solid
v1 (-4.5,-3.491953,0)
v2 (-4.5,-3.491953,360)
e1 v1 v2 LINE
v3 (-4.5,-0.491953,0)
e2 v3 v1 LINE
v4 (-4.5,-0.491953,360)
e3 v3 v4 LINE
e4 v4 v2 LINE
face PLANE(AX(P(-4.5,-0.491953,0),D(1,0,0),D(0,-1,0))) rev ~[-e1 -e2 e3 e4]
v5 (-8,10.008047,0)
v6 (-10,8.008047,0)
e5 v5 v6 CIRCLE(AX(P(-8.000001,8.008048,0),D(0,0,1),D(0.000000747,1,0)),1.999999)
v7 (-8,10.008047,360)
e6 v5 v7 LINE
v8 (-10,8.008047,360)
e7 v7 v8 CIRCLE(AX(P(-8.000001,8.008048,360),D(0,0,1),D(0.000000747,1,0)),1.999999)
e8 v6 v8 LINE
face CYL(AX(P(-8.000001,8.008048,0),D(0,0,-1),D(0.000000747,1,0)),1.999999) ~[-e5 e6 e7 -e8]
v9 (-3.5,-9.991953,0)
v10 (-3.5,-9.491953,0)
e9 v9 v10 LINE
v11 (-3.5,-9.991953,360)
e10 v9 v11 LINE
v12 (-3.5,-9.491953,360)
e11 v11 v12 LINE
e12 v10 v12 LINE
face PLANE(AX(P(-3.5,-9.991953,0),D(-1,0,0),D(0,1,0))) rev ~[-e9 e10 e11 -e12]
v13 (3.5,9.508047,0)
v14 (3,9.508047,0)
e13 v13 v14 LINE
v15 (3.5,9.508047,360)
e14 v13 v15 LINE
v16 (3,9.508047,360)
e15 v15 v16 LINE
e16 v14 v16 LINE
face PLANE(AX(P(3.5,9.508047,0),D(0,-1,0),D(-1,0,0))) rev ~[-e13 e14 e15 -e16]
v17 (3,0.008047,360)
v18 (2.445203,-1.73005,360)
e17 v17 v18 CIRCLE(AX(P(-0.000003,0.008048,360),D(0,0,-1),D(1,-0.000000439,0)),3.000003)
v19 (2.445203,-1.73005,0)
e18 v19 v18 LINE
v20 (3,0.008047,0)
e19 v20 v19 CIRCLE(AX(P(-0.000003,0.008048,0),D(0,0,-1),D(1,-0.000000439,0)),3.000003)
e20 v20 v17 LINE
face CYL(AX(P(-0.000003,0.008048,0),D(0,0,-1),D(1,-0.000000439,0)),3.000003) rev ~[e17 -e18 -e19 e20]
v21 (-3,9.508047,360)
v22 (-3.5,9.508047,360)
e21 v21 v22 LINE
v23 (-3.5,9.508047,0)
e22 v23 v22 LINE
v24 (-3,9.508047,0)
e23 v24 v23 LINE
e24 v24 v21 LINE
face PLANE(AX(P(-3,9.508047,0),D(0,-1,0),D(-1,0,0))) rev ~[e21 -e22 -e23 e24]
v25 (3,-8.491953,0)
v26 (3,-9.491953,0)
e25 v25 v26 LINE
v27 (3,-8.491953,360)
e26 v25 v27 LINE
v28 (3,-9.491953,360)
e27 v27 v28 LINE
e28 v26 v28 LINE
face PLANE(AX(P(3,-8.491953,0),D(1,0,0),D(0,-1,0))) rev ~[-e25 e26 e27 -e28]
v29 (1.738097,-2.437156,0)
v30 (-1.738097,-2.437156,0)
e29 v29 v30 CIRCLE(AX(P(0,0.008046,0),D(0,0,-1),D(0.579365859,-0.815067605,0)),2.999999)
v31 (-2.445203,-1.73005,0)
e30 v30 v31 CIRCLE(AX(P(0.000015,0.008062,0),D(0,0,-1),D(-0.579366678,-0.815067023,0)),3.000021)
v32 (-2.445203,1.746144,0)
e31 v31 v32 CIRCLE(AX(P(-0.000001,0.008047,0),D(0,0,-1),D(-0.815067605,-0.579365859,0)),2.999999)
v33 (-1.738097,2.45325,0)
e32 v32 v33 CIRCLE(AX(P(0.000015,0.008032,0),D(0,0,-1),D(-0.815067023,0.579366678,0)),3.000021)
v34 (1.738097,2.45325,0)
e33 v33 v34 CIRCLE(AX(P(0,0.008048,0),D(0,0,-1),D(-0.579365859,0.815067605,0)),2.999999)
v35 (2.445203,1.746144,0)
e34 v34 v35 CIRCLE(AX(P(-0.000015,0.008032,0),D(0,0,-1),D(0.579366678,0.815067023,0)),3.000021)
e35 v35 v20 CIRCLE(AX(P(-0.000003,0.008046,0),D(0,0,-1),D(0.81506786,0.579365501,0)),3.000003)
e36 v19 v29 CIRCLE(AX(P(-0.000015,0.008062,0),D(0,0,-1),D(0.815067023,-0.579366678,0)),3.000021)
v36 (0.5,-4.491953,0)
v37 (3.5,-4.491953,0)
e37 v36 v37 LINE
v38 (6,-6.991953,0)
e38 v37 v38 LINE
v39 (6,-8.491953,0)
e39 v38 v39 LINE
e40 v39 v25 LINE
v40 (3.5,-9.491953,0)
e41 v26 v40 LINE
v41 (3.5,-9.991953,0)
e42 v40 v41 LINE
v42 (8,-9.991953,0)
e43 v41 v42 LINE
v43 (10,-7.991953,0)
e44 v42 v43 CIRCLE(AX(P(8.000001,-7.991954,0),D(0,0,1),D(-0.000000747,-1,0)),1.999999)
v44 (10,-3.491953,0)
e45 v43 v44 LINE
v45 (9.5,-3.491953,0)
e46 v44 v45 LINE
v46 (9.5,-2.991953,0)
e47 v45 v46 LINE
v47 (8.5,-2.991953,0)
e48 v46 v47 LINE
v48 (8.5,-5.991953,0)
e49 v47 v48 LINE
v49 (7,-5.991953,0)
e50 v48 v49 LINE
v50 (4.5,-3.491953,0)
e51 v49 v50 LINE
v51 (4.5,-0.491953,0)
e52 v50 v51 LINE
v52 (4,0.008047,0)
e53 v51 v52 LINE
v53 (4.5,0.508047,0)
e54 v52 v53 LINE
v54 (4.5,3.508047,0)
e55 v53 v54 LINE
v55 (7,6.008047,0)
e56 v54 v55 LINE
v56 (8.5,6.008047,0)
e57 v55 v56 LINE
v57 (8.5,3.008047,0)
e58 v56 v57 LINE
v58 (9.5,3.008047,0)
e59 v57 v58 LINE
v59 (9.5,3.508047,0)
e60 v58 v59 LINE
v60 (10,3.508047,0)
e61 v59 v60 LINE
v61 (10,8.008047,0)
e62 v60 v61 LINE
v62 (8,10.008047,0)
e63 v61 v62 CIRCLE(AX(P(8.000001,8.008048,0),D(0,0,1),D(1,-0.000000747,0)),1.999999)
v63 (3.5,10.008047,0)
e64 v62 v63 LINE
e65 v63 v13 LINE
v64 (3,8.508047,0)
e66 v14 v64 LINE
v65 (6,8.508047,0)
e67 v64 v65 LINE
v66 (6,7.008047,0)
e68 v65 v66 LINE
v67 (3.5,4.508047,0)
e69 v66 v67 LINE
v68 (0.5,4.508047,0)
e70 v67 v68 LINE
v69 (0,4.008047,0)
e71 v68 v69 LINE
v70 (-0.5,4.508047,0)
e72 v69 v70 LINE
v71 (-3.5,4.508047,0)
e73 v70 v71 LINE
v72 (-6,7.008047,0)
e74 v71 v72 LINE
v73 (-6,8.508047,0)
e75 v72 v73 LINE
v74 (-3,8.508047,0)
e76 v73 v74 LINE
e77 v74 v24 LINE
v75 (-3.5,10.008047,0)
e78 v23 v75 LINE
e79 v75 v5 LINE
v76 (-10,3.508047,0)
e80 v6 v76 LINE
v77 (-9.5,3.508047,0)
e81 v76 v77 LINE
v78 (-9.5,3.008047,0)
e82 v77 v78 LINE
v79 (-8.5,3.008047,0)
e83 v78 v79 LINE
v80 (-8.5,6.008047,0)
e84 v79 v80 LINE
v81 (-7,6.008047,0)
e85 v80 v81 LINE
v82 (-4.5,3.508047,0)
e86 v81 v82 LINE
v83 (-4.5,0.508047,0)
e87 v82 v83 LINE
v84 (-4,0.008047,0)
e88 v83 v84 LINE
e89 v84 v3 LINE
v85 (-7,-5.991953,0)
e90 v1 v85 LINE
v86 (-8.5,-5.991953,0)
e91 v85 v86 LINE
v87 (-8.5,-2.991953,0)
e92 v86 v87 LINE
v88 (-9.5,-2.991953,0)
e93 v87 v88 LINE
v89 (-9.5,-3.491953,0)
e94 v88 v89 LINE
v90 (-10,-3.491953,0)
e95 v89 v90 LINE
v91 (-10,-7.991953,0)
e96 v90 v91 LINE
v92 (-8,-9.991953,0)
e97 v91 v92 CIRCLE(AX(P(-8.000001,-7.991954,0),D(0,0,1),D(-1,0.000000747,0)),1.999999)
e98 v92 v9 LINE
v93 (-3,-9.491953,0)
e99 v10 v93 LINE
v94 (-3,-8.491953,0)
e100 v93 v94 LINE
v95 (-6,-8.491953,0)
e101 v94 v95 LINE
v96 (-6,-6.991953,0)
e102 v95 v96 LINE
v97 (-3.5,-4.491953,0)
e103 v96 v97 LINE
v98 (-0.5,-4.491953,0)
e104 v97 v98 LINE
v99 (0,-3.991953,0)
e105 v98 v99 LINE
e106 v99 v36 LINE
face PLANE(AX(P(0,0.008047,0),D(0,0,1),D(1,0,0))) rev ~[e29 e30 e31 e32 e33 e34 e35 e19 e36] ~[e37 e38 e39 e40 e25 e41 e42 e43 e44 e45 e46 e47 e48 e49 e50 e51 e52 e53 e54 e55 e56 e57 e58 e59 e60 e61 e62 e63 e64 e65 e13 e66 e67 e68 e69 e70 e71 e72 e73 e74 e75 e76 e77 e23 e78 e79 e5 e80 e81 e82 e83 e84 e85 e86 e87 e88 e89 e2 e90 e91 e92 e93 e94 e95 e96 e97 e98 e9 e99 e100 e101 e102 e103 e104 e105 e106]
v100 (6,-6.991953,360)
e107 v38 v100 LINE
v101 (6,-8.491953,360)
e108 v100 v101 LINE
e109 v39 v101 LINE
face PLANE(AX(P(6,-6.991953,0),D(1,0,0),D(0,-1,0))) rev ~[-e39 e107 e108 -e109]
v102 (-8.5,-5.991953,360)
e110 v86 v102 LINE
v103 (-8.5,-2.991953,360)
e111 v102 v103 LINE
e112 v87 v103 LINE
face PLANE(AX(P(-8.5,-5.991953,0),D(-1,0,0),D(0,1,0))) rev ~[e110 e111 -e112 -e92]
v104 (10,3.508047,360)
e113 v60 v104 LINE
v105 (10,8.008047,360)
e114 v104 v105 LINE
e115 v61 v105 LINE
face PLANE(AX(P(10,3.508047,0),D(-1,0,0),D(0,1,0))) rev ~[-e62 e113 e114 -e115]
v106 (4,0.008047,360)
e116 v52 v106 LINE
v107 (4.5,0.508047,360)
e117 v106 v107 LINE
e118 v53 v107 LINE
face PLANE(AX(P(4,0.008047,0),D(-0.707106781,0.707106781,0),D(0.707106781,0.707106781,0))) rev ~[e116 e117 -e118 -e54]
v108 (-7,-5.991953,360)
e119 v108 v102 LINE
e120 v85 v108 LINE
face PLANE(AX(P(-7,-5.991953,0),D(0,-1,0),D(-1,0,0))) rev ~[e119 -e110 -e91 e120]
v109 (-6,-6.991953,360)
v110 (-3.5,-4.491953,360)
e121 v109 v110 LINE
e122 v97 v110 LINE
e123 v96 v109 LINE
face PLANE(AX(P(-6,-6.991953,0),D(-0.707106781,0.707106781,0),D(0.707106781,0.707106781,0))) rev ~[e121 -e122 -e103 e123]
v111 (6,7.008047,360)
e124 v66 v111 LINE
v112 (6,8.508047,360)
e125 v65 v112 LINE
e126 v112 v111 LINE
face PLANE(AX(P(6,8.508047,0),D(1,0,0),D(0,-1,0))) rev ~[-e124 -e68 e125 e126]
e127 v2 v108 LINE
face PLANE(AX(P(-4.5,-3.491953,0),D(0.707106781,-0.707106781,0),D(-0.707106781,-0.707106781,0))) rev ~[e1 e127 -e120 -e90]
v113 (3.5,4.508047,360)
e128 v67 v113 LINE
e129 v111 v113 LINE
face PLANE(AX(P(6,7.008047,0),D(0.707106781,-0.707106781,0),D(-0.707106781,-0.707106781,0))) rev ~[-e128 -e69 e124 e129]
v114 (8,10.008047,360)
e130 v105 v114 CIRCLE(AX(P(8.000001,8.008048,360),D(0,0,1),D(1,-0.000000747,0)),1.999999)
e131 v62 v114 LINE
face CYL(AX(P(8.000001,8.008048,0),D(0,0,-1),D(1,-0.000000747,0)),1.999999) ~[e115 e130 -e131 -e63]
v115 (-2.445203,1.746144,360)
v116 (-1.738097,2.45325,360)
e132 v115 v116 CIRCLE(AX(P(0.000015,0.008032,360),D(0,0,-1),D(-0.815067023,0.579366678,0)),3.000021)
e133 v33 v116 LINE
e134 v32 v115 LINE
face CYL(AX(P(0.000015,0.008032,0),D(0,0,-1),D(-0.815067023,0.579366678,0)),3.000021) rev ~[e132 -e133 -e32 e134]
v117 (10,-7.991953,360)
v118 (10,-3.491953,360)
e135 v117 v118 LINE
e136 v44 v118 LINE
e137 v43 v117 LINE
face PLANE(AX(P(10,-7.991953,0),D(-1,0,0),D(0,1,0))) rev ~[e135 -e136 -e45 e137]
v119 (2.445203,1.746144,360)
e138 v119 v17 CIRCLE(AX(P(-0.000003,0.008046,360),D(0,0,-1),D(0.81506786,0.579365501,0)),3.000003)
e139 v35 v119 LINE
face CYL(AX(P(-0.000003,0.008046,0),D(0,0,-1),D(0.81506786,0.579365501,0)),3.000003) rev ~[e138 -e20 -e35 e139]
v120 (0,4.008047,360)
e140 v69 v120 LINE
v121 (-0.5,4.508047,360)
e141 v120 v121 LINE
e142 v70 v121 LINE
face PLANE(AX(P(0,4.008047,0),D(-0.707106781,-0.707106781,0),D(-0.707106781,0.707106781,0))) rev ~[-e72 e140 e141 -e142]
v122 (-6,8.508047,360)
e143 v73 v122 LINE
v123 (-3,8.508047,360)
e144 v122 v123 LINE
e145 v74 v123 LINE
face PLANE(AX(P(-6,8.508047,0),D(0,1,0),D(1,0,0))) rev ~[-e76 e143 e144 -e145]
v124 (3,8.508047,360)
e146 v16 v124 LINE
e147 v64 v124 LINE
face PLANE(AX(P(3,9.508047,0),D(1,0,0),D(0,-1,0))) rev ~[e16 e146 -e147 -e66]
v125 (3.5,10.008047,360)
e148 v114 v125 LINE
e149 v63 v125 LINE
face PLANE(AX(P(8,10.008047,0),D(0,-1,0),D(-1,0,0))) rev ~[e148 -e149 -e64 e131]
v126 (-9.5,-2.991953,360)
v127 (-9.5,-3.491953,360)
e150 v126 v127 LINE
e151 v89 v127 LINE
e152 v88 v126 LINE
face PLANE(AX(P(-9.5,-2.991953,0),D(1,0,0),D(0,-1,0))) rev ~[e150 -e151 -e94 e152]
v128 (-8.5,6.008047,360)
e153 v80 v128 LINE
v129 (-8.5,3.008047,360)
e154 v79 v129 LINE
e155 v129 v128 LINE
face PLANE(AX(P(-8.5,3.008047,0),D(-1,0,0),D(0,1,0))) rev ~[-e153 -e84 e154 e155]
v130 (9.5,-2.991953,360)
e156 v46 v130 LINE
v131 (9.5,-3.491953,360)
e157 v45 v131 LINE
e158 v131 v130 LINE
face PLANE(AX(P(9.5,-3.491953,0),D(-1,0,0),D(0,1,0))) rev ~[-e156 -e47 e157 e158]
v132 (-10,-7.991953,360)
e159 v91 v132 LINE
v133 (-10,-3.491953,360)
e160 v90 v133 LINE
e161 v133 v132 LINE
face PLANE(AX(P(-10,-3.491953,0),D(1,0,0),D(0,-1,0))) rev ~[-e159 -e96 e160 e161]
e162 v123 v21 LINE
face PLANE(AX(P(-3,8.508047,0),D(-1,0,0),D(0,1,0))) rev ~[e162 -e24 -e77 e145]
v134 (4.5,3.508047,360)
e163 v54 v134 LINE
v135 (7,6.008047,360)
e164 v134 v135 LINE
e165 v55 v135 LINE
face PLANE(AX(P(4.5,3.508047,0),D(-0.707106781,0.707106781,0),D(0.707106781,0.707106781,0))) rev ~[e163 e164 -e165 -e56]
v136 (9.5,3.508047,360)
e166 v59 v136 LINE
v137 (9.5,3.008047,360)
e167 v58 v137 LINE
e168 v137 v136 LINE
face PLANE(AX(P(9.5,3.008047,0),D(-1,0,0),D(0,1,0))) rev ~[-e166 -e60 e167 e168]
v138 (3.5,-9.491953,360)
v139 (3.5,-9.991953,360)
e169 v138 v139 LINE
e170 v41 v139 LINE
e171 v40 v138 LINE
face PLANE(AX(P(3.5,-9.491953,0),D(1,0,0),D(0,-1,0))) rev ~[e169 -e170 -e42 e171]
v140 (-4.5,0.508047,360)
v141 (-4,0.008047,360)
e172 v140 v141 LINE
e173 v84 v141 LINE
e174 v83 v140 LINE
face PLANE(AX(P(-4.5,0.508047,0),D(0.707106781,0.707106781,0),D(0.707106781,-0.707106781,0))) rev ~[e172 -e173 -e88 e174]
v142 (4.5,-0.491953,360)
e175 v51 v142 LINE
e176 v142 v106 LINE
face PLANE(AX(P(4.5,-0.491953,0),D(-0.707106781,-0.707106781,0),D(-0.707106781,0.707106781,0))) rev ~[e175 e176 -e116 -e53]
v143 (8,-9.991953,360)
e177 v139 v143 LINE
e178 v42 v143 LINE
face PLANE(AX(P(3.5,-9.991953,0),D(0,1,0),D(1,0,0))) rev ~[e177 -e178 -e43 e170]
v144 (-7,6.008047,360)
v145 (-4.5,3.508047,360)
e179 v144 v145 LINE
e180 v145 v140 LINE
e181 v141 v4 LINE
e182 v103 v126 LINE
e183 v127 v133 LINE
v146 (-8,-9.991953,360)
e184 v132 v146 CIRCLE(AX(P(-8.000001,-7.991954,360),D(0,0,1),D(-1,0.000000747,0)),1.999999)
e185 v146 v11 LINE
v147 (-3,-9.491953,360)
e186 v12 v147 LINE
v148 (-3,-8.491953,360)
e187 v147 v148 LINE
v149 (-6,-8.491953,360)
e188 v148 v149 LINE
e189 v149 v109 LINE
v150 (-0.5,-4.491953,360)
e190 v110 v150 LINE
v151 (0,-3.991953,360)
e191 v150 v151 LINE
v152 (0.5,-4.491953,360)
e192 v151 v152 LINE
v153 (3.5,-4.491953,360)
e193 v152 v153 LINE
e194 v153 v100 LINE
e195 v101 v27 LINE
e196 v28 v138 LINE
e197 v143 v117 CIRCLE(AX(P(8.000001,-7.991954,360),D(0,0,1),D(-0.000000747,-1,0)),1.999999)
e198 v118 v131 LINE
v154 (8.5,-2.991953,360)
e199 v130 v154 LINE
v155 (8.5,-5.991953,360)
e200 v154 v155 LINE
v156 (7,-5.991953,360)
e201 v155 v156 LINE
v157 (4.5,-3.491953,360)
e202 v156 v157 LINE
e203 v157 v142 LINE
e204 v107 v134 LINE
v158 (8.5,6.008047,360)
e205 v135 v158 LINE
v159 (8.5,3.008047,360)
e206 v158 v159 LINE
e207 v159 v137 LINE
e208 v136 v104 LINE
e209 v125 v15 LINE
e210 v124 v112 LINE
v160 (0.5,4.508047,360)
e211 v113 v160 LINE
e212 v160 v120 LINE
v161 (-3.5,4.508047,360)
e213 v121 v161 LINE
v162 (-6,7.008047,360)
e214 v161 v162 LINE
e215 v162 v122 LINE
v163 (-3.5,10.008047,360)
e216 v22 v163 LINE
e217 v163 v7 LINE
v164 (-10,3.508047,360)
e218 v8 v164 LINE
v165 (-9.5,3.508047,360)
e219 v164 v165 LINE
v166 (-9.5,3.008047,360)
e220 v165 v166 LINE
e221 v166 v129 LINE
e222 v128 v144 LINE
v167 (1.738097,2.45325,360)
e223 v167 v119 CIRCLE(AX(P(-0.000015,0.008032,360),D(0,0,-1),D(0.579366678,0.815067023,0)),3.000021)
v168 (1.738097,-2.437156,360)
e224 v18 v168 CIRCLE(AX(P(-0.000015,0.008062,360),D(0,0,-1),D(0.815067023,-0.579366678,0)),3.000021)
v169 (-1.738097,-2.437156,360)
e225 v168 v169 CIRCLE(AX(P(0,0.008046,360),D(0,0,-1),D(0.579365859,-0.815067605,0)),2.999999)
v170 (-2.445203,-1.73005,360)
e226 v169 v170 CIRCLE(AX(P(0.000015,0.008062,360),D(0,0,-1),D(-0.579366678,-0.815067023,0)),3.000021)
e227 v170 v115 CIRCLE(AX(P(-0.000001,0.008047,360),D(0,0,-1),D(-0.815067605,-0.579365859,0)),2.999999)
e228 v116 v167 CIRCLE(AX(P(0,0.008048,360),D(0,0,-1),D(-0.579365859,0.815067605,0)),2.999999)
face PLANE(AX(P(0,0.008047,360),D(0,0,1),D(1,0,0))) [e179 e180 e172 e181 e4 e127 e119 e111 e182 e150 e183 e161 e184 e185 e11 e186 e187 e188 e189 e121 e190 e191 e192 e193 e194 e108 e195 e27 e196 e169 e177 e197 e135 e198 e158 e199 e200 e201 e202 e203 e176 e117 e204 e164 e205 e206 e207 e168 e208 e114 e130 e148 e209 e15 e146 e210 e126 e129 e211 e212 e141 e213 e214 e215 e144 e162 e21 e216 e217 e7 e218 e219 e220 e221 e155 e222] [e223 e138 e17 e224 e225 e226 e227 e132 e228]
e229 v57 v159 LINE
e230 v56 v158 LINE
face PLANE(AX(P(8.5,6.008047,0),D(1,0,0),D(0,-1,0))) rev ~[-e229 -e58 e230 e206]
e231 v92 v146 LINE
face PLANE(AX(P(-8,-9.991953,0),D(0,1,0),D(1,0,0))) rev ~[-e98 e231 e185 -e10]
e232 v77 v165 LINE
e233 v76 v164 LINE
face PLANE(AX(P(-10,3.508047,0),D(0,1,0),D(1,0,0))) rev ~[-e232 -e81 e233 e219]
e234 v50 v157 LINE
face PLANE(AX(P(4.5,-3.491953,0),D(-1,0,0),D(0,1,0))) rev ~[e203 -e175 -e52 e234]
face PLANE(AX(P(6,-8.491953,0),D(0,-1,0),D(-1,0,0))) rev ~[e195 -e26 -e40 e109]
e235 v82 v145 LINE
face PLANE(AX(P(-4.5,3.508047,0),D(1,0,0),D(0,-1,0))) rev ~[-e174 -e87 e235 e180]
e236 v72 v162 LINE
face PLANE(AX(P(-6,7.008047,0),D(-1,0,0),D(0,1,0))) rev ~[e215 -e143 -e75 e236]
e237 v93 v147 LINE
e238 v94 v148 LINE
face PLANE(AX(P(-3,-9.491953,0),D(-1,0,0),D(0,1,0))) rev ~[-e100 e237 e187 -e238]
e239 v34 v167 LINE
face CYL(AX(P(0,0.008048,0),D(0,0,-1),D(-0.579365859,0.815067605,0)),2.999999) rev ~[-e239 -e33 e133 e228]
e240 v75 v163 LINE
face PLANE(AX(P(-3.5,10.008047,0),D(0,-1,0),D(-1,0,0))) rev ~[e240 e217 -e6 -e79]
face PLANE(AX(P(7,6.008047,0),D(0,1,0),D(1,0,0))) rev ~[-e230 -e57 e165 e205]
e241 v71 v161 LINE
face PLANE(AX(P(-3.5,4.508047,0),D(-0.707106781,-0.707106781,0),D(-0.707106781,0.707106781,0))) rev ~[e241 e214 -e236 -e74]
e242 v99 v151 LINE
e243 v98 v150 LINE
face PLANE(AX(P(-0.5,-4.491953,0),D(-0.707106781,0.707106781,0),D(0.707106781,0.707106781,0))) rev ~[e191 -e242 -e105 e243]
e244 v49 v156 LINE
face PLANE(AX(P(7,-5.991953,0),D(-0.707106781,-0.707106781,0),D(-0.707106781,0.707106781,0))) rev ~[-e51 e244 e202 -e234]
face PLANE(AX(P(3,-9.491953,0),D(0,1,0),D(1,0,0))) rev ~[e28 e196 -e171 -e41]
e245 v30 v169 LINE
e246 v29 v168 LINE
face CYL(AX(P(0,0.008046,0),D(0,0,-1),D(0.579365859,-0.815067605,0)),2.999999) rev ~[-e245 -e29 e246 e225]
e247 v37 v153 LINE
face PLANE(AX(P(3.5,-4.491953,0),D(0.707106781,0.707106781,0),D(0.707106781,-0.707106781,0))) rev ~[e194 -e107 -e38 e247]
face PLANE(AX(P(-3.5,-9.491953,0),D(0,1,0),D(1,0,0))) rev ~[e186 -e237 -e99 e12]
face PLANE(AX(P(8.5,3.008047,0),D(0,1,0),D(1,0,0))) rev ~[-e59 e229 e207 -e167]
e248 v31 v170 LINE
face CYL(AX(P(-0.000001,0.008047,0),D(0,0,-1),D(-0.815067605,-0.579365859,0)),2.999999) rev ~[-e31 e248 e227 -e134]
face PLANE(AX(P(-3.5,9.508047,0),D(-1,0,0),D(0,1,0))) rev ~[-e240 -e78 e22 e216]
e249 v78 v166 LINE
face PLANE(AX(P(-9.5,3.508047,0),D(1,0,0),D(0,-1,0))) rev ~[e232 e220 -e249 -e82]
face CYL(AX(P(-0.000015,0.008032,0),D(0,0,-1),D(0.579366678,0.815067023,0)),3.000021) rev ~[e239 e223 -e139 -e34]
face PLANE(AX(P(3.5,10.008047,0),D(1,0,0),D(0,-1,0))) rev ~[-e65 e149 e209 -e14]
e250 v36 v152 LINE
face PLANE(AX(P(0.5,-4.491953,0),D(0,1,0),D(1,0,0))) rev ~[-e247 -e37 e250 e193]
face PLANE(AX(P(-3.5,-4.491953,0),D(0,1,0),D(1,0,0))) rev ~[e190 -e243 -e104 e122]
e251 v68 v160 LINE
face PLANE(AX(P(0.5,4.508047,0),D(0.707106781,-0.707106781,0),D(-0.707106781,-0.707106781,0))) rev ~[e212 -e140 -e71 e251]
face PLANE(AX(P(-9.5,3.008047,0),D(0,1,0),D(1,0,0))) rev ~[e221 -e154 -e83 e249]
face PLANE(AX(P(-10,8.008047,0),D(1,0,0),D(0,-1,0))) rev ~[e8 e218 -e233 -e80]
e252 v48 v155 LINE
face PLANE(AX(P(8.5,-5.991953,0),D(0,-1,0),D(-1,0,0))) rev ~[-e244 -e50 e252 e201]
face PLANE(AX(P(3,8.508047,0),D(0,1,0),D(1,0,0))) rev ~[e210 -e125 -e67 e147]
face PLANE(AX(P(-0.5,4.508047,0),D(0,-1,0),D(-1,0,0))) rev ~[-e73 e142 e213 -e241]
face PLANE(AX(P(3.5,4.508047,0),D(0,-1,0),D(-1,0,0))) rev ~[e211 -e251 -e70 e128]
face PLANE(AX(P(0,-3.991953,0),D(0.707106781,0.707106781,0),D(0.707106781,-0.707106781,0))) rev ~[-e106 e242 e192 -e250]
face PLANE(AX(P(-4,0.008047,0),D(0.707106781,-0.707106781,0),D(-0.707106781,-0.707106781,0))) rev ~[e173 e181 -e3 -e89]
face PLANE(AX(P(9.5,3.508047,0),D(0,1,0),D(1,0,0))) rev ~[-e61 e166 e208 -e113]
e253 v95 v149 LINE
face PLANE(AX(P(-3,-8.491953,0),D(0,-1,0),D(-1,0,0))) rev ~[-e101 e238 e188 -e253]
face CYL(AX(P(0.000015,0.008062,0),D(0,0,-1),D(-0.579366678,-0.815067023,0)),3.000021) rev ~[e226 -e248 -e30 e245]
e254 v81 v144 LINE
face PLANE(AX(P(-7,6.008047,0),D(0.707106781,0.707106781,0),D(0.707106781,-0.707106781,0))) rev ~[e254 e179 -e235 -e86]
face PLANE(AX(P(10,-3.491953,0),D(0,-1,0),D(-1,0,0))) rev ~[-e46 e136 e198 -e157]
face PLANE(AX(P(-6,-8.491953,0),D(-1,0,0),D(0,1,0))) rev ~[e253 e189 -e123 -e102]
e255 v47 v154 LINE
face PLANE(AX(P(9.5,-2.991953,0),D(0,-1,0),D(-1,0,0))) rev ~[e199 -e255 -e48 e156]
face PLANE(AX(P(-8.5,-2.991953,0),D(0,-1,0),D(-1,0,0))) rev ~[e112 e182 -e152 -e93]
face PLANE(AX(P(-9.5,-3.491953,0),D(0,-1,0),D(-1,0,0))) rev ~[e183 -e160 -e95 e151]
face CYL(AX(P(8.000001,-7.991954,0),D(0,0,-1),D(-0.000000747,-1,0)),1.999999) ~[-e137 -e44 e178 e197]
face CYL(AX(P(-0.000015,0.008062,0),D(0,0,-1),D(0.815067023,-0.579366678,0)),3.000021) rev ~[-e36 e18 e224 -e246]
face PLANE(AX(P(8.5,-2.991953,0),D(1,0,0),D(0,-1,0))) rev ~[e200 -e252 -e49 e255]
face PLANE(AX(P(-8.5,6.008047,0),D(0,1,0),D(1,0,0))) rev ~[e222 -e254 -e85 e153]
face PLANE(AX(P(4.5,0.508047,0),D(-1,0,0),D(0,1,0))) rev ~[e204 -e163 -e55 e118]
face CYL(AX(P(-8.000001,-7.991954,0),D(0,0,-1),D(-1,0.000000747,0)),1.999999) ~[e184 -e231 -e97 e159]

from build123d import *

# Parameters (mm, degrees)
F1_DEPTH = 360


with BuildPart() as f1:
    # F0 (on Top) → F1 (new body)
    with BuildSketch(Plane.XY):
        with BuildLine():
            ThreePointArc((-10, -7.991953), (-9.414214, -9.406167), (-8, -9.991953))
            Line((-8, -9.991953), (-3.5, -9.991953))
            Line((-3.5, -9.991953), (-3.5, -9.491953))
            Line((-3.5, -9.491953), (-3, -9.491953))
            Line((-3, -9.491953), (-3, -8.491953))
            Line((-3, -8.491953), (-6, -8.491953))
            Line((-6, -8.491953), (-6, -6.991953))
            Line((-6, -6.991953), (-3.5, -4.491953))
            Line((-3.5, -4.491953), (-0.5, -4.491953))
            Line((-0.5, -4.491953), (0, -3.991953))
            Line((0, -3.991953), (0.5, -4.491953))
            Line((0.5, -4.491953), (3.5, -4.491953))
            Line((3.5, -4.491953), (6, -6.991953))
            Line((6, -6.991953), (6, -8.491953))
            Line((6, -8.491953), (3, -8.491953))
            Line((3, -8.491953), (3, -9.491953))
            Line((3, -9.491953), (3.5, -9.491953))
            Line((3.5, -9.491953), (3.5, -9.991953))
            Line((3.5, -9.991953), (8, -9.991953))
            ThreePointArc((8, -9.991953), (9.414214, -9.406167), (10, -7.991953))
            Line((10, -7.991953), (10, -3.491953))
            Line((10, -3.491953), (9.5, -3.491953))
            Line((9.5, -3.491953), (9.5, -2.991953))
            Line((9.5, -2.991953), (8.5, -2.991953))
            Line((8.5, -2.991953), (8.5, -5.991953))
            Line((8.5, -5.991953), (7, -5.991953))
            Line((7, -5.991953), (4.5, -3.491953))
            Line((4.5, -3.491953), (4.5, -0.491953))
            Line((4.5, -0.491953), (4, 0.008047))
            Line((4, 0.008047), (4.5, 0.508047))
            Line((4.5, 0.508047), (4.5, 3.508047))
            Line((4.5, 3.508047), (7, 6.008047))
            Line((7, 6.008047), (8.5, 6.008047))
            Line((8.5, 6.008047), (8.5, 3.008047))
            Line((8.5, 3.008047), (9.5, 3.008047))
            Line((9.5, 3.008047), (9.5, 3.508047))
            Line((9.5, 3.508047), (10, 3.508047))
            Line((10, 3.508047), (10, 8.008047))
            ThreePointArc((10, 8.008047), (9.414214, 9.422261), (8, 10.008047))
            Line((8, 10.008047), (3.5, 10.008047))
            Line((3.5, 10.008047), (3.5, 9.508047))
            Line((3.5, 9.508047), (3, 9.508047))
            Line((3, 9.508047), (3, 8.508047))
            Line((3, 8.508047), (6, 8.508047))
            Line((6, 8.508047), (6, 7.008047))
            Line((6, 7.008047), (3.5, 4.508047))
            Line((3.5, 4.508047), (0.5, 4.508047))
            Line((0.5, 4.508047), (0, 4.008047))
            Line((0, 4.008047), (-0.5, 4.508047))
            Line((-0.5, 4.508047), (-3.5, 4.508047))
            Line((-3.5, 4.508047), (-6, 7.008047))
            Line((-6, 7.008047), (-6, 8.508047))
            Line((-6, 8.508047), (-3, 8.508047))
            Line((-3, 8.508047), (-3, 9.508047))
            Line((-3, 9.508047), (-3.5, 9.508047))
            Line((-3.5, 9.508047), (-3.5, 10.008047))
            Line((-3.5, 10.008047), (-8, 10.008047))
            ThreePointArc((-8, 10.008047), (-9.414214, 9.422261), (-10, 8.008047))
            Line((-10, 8.008047), (-10, 3.508047))
            Line((-10, 3.508047), (-9.5, 3.508047))
            Line((-9.5, 3.508047), (-9.5, 3.008047))
            Line((-9.5, 3.008047), (-8.5, 3.008047))
            Line((-8.5, 3.008047), (-8.5, 6.008047))
            Line((-8.5, 6.008047), (-7, 6.008047))
            Line((-7, 6.008047), (-4.5, 3.508047))
            Line((-4.5, 3.508047), (-4.5, 0.508047))
            Line((-4.5, 0.508047), (-4, 0.008047))
            Line((-4, 0.008047), (-4.5, -0.491953))
            Line((-4.5, -0.491953), (-4.5, -3.491953))
            Line((-4.5, -3.491953), (-7, -5.991953))
            Line((-7, -5.991953), (-8.5, -5.991953))
            Line((-8.5, -5.991953), (-8.5, -2.991953))
            Line((-8.5, -2.991953), (-9.5, -2.991953))
            Line((-9.5, -2.991953), (-9.5, -3.491953))
            Line((-9.5, -3.491953), (-10, -3.491953))
            Line((-10, -3.491953), (-10, -7.991953))
        make_face()
        with BuildLine():
            ThreePointArc((2.445203, 1.746144), (2.857937, 0.920294), (3, 0.008047))
            ThreePointArc((3, 0.008047), (2.857937, -0.9042), (2.445203, -1.73005))
            ThreePointArc((2.445203, -1.73005), (2.12132, -2.113273), (1.738097, -2.437156))
            ThreePointArc((1.738097, -2.437156), (0, -2.991953), (-1.738097, -2.437156))
            ThreePointArc((-1.738097, -2.437156), (-2.12132, -2.113273), (-2.445203, -1.73005))
            ThreePointArc((-2.445203, -1.73005), (-3, 0.008047), (-2.445203, 1.746144))
            ThreePointArc((-2.445203, 1.746144), (-2.12132, 2.129367), (-1.738097, 2.45325))
            ThreePointArc((-1.738097, 2.45325), (0, 3.008047), (1.738097, 2.45325))
            ThreePointArc((1.738097, 2.45325), (2.12132, 2.129367), (2.445203, 1.746144))
        make_face(mode=Mode.SUBTRACT)
    extrude(amount=F1_DEPTH)


solid = f1.part
